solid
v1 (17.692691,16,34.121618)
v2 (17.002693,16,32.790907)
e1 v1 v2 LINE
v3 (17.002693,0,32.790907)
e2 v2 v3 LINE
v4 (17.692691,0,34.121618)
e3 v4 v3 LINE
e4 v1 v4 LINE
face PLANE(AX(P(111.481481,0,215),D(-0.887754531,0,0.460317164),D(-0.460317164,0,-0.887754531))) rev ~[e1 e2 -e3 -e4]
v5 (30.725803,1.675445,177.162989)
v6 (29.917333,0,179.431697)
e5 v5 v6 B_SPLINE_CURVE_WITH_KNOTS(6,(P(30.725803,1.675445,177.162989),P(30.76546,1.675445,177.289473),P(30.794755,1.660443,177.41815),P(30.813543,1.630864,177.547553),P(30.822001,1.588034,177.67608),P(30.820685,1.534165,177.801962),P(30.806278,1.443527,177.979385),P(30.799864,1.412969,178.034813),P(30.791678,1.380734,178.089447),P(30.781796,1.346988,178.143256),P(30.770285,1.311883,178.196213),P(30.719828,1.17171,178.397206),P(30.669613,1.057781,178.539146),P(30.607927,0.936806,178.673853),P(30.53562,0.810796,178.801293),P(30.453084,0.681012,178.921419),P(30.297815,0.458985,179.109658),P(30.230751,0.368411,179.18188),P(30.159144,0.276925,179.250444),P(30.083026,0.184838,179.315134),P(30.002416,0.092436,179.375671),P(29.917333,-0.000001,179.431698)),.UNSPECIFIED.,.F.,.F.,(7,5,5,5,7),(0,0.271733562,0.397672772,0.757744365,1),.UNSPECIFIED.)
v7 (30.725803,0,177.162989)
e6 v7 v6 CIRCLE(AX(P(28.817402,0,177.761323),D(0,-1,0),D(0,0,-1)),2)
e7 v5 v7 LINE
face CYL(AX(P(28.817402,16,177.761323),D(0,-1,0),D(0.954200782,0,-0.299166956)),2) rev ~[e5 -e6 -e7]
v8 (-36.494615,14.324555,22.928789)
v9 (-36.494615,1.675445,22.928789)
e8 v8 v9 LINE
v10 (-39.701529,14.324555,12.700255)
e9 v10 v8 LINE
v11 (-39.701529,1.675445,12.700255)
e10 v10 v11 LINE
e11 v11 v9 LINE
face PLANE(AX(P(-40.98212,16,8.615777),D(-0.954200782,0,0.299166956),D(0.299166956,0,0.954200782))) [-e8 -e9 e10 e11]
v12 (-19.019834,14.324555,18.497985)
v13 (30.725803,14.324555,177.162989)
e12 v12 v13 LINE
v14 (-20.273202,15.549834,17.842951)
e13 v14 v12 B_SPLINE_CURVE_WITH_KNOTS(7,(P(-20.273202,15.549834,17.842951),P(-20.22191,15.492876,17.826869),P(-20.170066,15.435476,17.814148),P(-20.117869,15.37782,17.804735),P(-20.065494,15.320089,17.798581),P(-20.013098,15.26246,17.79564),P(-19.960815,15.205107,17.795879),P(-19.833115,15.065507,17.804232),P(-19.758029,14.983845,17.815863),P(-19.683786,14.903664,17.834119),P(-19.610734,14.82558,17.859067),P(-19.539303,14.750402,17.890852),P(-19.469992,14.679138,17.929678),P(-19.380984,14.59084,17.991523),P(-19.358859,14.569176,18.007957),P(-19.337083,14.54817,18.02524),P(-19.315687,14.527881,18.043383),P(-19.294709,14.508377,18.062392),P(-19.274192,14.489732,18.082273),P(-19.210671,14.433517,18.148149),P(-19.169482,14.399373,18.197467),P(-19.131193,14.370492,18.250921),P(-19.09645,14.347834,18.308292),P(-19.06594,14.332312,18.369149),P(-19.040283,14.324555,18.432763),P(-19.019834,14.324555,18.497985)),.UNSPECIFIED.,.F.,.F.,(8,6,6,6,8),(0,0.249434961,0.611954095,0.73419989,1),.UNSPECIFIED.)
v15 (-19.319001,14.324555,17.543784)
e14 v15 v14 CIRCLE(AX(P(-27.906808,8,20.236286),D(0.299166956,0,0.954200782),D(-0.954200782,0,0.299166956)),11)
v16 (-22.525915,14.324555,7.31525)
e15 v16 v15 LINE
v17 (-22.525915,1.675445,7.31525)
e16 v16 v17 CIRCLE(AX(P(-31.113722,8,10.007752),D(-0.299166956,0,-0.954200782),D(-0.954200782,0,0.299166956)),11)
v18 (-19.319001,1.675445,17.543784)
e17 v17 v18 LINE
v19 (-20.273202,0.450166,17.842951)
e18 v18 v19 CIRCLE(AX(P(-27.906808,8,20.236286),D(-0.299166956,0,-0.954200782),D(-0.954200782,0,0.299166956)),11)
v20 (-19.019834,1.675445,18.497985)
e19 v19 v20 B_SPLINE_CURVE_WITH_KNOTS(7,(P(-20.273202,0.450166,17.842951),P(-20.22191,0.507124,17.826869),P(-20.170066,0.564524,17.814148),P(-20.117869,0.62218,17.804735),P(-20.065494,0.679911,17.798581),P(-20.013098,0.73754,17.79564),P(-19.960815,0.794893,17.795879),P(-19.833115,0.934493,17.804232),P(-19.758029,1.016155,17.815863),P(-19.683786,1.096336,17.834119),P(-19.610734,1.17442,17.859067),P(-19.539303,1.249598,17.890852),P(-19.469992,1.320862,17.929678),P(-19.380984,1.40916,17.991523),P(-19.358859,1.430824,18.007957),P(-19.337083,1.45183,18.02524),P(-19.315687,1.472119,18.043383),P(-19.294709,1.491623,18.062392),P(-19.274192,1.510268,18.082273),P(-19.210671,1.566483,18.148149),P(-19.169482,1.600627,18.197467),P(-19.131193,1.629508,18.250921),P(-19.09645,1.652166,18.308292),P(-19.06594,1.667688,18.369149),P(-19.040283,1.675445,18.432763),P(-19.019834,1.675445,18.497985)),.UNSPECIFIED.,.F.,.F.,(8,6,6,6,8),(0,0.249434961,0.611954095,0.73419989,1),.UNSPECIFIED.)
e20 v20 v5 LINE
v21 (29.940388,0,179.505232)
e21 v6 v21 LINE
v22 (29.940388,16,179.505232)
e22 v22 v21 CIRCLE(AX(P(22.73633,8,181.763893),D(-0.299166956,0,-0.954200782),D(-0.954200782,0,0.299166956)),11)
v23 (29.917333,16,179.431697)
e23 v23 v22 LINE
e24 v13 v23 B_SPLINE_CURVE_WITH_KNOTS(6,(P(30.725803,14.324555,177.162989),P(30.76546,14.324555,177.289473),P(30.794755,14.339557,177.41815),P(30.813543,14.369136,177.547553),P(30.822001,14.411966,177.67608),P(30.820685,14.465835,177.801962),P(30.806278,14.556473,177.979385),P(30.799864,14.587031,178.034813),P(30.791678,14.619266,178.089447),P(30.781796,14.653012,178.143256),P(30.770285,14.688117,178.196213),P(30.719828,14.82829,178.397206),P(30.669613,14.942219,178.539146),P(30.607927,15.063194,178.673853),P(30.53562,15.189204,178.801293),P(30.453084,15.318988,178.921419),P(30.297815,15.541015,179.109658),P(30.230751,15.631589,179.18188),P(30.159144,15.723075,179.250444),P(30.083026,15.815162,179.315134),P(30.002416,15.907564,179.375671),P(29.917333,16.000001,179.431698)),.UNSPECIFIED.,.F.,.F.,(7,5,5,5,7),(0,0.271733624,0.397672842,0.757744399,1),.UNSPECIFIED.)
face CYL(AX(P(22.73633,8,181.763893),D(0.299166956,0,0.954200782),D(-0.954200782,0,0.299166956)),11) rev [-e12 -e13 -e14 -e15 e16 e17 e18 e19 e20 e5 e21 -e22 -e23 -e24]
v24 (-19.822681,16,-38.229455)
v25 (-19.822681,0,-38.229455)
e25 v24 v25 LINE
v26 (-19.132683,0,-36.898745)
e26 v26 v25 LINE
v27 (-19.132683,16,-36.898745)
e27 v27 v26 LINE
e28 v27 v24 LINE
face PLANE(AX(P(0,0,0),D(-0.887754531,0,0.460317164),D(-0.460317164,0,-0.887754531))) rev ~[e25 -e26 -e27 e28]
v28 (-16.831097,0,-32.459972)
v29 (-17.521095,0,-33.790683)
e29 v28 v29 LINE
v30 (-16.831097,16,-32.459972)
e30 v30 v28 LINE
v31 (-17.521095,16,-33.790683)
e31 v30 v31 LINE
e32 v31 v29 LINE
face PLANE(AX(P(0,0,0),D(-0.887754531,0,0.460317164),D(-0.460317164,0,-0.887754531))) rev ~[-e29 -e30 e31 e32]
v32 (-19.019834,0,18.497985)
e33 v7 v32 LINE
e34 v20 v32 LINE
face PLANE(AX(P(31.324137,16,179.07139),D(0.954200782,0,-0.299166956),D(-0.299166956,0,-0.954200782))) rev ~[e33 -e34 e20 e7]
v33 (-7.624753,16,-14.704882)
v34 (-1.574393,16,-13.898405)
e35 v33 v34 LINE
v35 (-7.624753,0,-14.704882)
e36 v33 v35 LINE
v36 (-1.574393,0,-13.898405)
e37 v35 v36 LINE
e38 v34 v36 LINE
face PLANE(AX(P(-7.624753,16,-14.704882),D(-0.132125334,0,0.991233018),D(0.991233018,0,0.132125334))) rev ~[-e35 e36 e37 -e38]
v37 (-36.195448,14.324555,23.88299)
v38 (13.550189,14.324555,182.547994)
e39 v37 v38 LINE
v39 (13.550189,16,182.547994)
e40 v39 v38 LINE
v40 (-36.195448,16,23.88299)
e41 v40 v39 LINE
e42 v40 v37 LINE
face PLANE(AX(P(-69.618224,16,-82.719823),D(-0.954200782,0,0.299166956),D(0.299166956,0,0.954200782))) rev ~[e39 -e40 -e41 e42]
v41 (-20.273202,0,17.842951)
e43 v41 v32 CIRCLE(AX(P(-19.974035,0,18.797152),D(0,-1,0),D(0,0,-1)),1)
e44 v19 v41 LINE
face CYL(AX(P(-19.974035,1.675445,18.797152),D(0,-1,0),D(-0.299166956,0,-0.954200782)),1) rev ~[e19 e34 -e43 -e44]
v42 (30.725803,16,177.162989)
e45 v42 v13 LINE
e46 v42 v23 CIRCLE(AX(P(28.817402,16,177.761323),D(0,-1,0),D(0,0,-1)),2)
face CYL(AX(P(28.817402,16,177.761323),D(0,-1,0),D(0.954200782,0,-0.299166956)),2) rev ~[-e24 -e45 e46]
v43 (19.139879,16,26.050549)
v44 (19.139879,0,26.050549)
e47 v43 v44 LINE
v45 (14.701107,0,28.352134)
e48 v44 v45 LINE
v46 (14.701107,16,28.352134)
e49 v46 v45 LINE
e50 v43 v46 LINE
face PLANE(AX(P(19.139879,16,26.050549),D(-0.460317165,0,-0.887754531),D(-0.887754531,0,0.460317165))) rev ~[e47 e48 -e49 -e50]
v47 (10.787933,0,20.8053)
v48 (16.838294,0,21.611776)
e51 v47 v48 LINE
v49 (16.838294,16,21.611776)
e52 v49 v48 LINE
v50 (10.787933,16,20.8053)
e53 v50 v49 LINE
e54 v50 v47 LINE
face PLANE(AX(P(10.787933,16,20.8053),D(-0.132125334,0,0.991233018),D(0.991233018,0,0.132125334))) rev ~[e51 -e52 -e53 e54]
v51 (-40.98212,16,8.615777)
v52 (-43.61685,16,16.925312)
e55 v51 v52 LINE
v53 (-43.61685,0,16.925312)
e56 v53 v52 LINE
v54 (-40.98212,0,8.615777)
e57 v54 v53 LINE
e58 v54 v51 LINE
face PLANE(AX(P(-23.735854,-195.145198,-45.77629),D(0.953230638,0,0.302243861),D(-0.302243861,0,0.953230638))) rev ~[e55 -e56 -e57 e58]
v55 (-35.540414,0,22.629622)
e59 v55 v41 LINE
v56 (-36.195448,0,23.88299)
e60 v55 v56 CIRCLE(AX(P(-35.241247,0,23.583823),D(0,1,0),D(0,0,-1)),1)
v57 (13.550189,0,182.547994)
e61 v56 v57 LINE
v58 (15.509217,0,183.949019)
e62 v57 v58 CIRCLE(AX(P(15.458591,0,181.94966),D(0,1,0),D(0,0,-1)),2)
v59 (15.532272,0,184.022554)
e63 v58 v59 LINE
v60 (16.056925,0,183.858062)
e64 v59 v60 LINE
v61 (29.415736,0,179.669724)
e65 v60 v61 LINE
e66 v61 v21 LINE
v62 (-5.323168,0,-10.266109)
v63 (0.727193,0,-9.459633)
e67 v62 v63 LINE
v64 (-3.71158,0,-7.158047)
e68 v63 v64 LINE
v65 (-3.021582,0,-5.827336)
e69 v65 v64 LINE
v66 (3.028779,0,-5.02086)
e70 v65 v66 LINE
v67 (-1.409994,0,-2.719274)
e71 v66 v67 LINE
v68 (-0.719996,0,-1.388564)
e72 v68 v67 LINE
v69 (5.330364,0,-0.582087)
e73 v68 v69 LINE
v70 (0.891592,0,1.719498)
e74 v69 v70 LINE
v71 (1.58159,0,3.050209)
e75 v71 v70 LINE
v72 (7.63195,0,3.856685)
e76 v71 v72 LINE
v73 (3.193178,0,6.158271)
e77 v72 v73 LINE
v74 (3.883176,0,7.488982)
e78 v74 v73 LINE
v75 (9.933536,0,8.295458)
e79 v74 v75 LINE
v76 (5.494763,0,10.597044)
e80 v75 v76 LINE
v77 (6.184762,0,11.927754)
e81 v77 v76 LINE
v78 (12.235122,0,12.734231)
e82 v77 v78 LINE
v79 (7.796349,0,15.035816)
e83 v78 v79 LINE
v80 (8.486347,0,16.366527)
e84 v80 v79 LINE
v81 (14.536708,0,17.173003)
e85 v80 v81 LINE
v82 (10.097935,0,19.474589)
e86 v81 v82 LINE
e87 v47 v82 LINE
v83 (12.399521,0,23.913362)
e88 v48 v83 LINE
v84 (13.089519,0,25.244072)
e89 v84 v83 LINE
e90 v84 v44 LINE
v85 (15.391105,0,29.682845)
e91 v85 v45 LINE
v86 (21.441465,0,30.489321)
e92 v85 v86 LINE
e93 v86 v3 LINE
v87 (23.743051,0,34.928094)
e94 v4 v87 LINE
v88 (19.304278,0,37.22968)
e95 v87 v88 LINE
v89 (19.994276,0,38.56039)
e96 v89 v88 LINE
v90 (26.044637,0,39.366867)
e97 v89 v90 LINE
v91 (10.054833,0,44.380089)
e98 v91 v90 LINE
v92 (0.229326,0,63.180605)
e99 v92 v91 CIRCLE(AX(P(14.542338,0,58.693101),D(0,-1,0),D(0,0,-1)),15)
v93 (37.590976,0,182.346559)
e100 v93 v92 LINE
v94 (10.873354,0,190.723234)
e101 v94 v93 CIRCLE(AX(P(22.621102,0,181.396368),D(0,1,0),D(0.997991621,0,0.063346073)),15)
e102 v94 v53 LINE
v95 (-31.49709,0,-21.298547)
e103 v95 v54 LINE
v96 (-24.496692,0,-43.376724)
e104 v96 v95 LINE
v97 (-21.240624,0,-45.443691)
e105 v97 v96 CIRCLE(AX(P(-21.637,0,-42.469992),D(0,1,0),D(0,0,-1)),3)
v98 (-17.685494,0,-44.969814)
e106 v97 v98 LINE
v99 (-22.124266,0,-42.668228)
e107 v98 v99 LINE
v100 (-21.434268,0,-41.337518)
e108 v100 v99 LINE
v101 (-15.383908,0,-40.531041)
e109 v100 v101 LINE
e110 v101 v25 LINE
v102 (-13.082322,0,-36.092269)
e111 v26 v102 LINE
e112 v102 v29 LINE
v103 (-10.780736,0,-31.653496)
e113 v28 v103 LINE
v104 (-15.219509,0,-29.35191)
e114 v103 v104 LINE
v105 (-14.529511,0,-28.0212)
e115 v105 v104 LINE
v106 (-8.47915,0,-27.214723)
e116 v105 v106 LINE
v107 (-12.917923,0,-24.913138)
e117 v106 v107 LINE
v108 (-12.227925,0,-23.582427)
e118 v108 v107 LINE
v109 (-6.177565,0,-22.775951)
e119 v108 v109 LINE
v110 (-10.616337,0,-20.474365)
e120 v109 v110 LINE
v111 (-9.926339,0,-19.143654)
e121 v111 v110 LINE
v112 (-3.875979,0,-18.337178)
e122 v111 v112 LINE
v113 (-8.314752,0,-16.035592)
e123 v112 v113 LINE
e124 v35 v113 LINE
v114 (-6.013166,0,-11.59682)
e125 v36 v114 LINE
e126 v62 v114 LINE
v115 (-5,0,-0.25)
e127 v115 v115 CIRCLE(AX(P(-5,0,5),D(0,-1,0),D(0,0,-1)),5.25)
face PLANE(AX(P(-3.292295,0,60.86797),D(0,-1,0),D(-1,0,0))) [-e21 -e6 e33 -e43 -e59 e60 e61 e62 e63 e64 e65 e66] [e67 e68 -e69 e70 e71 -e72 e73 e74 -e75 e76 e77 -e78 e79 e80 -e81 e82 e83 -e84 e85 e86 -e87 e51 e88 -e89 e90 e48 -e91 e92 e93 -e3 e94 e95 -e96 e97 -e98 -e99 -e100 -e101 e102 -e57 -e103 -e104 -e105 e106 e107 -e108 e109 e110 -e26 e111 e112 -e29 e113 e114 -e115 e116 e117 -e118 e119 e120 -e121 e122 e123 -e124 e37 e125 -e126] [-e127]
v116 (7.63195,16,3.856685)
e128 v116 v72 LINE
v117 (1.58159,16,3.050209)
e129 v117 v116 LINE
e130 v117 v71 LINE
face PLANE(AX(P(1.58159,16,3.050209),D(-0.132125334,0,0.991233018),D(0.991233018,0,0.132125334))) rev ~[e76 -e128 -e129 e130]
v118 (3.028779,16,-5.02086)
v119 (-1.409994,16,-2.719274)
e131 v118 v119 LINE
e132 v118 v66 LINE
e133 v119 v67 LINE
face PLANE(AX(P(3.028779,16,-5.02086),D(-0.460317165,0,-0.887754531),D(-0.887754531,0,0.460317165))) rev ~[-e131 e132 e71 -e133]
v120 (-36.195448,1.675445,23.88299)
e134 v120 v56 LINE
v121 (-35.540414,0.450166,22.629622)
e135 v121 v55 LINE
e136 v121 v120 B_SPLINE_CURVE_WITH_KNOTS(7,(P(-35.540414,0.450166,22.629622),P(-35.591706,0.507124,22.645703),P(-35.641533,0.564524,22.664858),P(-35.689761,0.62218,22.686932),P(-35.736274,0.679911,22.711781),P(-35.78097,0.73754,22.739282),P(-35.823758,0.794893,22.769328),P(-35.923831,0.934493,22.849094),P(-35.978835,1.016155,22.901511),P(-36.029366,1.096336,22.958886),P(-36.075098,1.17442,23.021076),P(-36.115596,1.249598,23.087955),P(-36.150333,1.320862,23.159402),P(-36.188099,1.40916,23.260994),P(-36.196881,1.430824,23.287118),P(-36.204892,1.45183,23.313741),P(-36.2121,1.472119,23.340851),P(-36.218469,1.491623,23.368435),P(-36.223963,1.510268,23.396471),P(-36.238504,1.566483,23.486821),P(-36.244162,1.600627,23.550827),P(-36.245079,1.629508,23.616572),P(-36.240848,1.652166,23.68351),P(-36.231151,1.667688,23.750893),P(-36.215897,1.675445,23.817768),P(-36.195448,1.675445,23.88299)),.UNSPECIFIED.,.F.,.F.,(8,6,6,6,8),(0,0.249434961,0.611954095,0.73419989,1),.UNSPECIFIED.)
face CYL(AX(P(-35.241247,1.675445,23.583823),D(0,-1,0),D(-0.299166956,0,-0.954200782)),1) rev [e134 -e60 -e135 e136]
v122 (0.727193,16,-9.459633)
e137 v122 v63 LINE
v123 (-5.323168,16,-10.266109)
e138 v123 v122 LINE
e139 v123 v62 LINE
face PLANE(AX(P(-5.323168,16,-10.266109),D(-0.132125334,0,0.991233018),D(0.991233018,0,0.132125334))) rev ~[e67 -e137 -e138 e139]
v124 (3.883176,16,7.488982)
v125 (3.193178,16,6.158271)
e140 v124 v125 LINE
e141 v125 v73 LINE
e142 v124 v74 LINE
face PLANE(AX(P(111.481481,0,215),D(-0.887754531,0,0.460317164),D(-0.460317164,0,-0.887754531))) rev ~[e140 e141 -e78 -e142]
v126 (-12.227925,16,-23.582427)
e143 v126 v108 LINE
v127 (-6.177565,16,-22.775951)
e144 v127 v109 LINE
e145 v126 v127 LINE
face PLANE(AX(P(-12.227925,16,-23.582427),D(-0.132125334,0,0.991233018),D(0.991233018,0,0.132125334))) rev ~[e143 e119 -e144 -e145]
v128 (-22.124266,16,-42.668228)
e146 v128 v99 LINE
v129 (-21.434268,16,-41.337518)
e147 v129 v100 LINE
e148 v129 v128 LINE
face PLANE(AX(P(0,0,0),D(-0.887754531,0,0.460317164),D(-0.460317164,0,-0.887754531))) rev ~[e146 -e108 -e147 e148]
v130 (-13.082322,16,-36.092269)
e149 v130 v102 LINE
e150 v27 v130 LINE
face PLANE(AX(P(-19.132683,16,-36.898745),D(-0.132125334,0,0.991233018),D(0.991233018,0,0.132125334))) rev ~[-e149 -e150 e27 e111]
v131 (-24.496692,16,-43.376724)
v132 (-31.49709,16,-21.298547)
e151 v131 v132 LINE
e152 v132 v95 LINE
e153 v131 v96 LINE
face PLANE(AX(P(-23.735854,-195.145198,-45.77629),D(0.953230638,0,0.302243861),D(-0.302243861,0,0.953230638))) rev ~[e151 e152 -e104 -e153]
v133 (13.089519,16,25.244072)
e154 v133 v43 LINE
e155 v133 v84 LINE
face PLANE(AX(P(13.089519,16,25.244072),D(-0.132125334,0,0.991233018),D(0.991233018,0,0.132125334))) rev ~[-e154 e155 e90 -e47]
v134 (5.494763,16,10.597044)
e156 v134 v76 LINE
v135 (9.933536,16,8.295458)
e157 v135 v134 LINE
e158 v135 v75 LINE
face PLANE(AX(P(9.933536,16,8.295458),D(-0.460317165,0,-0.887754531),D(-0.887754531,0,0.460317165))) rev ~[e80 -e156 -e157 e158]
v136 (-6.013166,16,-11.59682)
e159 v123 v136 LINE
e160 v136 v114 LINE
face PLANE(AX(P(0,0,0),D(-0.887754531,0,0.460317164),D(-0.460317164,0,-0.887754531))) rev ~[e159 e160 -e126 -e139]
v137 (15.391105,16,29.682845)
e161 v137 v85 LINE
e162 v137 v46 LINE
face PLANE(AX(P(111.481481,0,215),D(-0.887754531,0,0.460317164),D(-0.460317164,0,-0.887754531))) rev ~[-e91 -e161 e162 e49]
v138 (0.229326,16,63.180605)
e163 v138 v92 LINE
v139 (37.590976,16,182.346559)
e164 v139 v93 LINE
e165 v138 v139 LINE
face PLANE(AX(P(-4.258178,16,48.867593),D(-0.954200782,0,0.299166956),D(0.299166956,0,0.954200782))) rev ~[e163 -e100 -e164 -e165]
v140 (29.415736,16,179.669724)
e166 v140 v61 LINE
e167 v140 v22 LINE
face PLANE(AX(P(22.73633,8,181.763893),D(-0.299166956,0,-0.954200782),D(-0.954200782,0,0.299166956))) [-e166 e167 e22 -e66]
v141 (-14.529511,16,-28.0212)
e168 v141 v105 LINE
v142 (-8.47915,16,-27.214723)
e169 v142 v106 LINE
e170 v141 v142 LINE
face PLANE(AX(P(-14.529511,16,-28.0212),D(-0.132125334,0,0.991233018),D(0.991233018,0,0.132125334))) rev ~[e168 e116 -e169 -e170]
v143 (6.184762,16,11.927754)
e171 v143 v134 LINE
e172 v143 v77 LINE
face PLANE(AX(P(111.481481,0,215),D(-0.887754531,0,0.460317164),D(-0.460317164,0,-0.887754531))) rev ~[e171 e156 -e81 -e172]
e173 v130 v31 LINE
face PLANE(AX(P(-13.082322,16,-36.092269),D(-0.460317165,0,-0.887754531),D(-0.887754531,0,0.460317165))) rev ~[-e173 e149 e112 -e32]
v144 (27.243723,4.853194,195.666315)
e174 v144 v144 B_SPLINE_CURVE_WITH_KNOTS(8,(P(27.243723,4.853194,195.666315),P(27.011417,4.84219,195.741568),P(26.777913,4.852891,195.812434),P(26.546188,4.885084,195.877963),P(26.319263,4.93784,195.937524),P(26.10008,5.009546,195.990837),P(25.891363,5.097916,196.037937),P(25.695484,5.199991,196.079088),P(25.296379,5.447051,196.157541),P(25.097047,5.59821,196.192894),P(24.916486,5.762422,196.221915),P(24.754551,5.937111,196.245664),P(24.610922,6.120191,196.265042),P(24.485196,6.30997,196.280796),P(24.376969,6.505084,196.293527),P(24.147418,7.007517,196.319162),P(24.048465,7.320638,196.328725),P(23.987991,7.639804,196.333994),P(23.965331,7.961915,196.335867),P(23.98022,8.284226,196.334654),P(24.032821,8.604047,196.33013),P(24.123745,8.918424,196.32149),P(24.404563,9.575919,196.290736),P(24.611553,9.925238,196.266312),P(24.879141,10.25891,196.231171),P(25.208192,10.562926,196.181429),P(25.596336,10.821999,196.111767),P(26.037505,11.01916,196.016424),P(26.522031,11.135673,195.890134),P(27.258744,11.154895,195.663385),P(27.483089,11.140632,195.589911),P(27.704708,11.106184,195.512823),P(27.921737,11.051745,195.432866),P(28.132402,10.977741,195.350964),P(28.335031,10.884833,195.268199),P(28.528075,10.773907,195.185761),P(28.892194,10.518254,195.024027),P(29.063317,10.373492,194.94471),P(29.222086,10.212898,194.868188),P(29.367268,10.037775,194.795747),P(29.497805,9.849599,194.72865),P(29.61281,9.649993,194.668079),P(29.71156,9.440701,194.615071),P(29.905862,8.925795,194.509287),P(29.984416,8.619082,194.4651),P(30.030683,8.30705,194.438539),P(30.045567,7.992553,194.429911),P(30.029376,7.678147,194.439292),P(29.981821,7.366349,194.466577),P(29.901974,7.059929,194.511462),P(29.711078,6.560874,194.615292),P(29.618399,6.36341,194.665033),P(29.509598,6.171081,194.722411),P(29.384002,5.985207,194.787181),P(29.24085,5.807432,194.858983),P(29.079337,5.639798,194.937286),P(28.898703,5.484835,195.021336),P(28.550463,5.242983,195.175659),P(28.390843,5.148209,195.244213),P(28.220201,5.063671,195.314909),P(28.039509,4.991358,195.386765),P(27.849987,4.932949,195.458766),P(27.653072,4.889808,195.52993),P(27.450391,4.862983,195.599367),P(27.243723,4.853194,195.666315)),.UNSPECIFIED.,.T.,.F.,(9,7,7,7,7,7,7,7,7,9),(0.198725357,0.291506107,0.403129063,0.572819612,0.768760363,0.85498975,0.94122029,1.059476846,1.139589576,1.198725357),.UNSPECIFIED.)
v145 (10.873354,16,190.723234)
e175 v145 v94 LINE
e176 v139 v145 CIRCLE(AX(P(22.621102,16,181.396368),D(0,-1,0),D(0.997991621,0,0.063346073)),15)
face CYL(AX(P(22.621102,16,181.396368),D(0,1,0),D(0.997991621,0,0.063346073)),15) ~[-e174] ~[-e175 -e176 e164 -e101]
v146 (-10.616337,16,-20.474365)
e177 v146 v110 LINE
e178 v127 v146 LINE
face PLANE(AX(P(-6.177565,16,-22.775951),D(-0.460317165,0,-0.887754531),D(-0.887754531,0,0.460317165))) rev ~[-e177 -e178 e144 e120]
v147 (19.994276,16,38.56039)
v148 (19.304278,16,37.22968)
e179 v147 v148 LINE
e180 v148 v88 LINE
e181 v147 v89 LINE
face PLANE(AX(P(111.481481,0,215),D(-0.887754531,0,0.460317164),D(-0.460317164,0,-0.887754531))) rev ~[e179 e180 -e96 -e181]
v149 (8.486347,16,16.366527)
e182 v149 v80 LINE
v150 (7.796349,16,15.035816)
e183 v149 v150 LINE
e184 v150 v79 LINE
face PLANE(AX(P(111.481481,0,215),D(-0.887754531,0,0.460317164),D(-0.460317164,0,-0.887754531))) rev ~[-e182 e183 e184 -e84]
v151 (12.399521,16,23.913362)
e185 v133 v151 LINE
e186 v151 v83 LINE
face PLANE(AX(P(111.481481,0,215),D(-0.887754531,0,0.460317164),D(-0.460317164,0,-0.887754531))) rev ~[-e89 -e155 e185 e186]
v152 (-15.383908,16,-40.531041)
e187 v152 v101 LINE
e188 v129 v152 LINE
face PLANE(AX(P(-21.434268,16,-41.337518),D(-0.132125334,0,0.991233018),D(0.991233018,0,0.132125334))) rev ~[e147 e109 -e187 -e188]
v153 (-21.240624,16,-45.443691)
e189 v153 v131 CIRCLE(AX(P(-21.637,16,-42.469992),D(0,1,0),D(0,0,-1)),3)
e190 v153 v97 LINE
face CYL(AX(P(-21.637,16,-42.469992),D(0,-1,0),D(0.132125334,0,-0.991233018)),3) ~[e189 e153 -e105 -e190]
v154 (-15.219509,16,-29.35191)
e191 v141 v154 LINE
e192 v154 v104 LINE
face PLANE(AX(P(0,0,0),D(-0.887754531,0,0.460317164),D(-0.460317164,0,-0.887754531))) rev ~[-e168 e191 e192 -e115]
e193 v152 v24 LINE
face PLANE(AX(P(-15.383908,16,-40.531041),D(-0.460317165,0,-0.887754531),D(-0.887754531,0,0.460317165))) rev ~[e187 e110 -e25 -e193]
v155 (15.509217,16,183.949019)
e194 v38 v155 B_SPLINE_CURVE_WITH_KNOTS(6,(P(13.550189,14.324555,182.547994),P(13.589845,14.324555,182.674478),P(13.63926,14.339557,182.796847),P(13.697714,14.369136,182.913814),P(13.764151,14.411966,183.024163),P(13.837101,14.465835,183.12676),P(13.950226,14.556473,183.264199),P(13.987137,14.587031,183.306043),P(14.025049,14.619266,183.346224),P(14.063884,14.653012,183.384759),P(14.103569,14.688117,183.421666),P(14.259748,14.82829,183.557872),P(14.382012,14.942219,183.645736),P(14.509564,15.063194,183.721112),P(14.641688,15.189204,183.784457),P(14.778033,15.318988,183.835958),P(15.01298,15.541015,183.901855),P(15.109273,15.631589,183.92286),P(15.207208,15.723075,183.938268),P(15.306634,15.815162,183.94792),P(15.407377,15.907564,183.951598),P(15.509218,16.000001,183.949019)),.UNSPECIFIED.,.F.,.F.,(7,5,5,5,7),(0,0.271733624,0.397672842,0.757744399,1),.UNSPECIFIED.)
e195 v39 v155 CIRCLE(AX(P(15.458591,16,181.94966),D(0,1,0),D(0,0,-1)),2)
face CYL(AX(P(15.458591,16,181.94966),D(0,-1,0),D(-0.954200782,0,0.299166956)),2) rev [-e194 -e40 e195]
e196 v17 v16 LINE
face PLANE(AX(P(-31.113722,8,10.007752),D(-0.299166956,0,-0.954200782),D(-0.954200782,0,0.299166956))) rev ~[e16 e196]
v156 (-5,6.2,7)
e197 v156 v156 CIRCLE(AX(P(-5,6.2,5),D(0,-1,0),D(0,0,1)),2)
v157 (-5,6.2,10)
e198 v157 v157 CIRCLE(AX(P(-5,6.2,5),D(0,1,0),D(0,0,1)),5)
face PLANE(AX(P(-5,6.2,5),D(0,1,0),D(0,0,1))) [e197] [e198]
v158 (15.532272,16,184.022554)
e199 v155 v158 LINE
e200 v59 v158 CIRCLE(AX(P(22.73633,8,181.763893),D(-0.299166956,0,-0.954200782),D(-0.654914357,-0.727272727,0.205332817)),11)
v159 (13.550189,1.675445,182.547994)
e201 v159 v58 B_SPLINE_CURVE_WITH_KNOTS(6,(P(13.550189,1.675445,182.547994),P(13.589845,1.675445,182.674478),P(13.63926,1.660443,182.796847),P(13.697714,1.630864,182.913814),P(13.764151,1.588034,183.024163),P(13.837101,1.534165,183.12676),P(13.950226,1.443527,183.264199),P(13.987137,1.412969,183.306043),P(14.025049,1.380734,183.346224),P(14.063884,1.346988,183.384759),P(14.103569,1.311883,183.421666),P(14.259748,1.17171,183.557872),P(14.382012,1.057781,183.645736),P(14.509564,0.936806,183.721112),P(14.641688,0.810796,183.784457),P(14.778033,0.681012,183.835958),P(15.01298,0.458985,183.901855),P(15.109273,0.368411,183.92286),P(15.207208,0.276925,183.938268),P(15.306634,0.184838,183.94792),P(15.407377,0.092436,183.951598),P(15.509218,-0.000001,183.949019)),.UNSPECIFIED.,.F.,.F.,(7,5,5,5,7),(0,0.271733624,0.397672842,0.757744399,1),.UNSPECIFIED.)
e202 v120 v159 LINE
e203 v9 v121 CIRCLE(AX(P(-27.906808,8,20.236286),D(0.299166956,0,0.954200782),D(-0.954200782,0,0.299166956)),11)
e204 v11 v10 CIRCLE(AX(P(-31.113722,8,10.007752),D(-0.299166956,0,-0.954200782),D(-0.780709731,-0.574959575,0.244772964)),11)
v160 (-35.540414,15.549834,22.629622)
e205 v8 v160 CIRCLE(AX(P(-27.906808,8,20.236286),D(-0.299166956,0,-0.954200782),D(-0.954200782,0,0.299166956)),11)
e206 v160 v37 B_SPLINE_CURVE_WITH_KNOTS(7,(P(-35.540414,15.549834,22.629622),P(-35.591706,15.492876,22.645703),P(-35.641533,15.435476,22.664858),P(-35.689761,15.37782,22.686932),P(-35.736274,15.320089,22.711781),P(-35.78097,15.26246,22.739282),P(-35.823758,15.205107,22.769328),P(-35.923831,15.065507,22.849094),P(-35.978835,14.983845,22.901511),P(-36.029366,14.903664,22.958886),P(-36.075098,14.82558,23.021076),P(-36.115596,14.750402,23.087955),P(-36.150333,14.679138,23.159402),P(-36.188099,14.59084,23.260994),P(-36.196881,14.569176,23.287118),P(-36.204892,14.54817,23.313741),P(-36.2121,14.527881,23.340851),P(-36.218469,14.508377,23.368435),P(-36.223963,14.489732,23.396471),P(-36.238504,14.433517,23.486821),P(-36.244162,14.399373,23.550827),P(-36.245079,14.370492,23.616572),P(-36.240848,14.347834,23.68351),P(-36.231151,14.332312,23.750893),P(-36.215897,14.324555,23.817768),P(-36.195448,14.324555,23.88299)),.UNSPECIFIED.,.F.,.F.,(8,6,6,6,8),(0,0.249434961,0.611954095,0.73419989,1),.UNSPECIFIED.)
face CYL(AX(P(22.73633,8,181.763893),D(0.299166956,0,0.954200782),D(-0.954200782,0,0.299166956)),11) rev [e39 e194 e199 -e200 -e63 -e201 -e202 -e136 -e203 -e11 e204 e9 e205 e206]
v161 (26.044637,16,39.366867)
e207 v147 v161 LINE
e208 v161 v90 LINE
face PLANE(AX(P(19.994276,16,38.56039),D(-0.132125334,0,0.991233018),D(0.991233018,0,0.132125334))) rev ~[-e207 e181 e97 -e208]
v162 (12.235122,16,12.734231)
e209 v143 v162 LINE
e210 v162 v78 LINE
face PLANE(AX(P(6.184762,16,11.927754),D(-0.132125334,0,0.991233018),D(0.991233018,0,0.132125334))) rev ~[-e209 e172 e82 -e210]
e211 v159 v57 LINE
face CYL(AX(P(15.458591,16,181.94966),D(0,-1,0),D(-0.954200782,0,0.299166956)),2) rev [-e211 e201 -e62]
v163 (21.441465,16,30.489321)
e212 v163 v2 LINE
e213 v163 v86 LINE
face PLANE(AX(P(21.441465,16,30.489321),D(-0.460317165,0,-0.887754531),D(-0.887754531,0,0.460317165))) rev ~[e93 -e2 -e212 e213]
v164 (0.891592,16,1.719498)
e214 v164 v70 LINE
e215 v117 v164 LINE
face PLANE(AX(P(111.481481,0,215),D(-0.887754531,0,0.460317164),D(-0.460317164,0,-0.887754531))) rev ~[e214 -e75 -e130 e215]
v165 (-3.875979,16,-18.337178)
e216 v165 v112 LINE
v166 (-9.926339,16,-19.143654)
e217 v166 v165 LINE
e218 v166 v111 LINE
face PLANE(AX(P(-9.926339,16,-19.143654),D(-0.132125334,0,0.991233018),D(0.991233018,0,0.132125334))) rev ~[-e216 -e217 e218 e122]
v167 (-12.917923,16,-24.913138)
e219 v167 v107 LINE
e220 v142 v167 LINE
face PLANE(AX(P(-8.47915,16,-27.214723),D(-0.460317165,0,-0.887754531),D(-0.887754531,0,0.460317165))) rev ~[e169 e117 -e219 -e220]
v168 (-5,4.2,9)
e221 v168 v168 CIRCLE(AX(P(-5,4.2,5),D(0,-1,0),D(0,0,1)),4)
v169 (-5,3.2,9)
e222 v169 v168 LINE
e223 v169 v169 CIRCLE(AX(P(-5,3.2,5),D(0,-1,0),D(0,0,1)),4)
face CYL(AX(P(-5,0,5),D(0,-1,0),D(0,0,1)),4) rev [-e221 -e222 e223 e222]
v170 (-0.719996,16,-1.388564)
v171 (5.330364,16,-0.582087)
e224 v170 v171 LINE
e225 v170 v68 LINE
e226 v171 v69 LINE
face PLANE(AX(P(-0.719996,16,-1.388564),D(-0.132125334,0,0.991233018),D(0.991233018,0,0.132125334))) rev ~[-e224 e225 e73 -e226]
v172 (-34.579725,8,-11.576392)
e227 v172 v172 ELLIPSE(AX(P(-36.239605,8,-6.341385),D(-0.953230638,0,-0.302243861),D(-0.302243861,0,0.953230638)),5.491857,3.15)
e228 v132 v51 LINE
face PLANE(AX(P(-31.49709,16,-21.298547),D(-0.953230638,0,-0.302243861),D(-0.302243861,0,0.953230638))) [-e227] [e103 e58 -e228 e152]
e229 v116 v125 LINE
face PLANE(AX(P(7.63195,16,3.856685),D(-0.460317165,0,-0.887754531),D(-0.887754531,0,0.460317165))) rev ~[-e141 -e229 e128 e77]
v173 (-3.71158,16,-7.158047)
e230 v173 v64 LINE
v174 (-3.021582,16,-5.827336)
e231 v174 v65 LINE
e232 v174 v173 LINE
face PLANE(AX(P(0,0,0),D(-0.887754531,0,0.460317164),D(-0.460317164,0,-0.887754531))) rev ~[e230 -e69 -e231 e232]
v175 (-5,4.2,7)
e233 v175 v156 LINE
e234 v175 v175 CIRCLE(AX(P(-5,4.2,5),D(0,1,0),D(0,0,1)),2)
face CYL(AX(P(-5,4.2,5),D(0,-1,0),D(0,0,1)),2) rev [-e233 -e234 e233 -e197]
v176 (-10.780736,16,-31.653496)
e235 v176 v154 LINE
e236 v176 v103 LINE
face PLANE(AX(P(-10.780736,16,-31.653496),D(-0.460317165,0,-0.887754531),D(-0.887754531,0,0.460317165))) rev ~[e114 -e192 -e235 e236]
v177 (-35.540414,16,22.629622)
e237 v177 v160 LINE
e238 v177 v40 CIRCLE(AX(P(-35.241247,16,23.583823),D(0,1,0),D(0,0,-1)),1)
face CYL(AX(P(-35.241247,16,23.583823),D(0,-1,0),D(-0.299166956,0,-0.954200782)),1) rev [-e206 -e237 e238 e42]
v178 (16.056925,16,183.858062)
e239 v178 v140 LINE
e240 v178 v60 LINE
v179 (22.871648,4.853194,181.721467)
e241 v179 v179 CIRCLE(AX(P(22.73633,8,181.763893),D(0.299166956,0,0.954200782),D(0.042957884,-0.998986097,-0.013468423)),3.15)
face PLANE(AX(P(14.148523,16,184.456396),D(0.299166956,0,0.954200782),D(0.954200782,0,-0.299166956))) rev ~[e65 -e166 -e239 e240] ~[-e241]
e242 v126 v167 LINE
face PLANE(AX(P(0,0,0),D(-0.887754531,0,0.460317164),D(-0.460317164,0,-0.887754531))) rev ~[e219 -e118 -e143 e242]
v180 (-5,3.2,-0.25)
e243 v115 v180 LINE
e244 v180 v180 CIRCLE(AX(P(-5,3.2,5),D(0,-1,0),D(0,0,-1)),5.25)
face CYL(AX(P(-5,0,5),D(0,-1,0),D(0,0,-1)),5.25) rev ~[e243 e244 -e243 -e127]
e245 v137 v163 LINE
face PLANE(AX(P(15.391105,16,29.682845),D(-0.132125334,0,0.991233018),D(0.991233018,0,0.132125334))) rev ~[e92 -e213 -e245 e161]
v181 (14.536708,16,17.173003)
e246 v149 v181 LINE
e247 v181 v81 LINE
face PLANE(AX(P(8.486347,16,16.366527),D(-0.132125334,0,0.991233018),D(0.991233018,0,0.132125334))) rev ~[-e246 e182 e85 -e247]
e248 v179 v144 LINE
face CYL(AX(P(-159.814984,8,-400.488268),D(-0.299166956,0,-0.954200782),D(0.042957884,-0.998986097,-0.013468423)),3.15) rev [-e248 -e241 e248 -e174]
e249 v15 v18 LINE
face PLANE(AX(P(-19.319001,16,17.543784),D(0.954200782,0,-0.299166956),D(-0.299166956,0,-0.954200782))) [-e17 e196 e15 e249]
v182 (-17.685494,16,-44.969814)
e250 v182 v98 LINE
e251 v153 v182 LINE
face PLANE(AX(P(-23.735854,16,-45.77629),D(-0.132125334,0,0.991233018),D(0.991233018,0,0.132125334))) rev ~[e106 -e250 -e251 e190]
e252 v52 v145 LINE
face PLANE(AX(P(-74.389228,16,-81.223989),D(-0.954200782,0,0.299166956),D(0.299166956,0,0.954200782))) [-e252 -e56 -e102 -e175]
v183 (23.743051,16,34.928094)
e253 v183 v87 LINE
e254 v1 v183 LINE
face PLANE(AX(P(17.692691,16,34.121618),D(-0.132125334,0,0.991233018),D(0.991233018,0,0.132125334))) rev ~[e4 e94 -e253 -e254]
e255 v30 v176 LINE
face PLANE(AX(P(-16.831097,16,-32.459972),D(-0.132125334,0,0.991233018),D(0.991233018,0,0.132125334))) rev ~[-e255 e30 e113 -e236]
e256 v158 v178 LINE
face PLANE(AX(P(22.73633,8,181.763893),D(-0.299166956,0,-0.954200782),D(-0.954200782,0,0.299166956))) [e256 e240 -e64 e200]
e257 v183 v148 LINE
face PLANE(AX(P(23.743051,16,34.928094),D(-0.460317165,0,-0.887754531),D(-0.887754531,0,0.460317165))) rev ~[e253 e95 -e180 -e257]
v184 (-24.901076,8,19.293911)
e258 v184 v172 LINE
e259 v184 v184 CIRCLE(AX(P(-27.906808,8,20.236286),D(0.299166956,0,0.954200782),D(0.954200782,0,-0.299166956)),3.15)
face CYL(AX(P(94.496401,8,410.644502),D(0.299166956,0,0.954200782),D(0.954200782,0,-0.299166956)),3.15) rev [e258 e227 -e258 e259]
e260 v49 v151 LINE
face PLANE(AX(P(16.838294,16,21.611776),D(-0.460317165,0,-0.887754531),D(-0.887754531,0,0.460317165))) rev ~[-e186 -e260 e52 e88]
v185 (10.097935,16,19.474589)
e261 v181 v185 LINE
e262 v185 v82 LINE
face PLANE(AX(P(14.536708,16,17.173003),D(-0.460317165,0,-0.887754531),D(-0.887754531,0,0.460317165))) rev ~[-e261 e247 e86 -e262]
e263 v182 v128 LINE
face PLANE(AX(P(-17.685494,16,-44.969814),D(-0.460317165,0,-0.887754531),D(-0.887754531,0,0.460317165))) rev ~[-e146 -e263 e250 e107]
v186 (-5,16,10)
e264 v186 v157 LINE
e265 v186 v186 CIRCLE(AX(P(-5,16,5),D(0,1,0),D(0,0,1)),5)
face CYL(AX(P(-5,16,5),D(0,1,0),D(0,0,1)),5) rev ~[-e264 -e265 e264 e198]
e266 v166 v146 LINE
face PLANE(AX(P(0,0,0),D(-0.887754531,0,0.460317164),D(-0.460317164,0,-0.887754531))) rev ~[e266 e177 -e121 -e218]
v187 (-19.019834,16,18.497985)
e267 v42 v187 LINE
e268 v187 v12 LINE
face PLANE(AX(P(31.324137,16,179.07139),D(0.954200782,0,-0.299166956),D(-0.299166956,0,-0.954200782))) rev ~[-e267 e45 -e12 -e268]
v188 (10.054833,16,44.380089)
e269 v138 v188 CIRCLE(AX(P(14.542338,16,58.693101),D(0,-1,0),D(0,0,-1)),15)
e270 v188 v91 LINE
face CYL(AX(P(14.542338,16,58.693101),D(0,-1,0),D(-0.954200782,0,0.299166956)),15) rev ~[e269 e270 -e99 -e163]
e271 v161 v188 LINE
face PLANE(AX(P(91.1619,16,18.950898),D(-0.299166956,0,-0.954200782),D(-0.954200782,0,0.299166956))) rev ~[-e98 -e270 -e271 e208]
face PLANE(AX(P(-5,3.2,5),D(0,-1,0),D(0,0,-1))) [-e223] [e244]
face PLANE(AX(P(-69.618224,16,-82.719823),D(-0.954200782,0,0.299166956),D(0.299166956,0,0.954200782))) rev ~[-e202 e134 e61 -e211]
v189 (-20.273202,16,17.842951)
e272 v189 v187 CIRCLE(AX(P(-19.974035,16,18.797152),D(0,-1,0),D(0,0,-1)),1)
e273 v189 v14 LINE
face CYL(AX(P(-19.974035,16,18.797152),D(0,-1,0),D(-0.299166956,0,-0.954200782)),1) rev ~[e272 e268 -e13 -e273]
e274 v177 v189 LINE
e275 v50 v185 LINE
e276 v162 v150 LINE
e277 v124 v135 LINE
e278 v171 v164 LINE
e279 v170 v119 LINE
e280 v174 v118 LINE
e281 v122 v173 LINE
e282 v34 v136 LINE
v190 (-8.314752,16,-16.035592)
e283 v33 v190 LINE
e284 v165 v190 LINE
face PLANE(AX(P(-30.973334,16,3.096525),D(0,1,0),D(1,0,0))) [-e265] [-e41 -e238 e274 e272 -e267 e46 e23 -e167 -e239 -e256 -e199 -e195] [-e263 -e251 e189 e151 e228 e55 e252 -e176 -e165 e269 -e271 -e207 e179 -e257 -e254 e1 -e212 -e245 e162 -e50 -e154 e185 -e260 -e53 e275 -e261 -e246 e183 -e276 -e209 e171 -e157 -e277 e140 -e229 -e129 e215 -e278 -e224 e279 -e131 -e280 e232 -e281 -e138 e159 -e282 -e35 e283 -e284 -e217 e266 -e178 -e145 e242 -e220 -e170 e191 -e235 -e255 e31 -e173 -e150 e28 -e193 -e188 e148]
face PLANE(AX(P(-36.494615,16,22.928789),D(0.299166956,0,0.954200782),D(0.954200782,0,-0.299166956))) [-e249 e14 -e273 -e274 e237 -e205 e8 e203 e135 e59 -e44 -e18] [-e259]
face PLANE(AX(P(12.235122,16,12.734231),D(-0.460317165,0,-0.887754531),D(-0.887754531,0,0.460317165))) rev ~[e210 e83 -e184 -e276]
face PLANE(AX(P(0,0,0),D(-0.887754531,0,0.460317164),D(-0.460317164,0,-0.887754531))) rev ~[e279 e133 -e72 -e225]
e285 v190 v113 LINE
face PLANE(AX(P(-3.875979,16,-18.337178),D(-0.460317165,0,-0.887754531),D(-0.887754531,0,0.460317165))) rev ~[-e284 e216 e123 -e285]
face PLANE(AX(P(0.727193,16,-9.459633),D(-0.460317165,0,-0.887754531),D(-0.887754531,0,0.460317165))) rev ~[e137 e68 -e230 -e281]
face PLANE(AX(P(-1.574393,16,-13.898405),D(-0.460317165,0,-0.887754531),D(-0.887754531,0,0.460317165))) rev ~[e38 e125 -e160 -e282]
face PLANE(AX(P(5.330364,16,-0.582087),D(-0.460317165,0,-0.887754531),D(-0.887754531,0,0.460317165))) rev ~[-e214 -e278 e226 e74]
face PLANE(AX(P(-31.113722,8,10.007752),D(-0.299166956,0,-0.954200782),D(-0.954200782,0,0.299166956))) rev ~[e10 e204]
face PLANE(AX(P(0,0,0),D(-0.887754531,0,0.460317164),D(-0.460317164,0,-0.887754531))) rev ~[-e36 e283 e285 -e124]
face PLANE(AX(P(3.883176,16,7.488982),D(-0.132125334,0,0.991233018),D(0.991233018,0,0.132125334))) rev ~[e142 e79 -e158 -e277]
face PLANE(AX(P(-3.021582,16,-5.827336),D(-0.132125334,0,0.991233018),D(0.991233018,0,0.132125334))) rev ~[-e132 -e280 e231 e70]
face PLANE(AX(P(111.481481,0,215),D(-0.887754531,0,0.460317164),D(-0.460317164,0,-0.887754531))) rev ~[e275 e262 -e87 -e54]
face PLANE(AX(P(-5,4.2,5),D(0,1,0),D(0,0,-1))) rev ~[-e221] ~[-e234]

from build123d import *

# Parameters (mm, degrees)
SKETCH1_R                = 4
BOSS_EXTRUDE1_DEPTH      = 16
CUT_EXTRUDE2_DEPTH       = 243.712011885
FILLET2_R                = 50
FILLET3_R                = 5
BOSS_EXTRUDE2_DEPTH      = 16
LPATTERN1_COUNT          = 58
LPATTERN1_PITCH          = 5
SKETCH6_R                = 5.25
CUT_EXTRUDE4_DEPTH       = 3.2
BOSS_EXTRUDE3_START      = -11.8
SKETCH8_R                = 4
SKETCH8_R_2              = 2
BOSS_EXTRUDE3_DEPTH      = 11.8
SKETCH9_R                = 5
CUT_EXTRUDE7_DEPTH       = 9.8
BOSS_EXTRUDE4_DEPTH      = 16
CUT_EXTRUDE8_DEPTH       = 330.19878797
CUT_EXTRUDE8_DEPTH_BACK  = 330.19878797
SKETCH10_R               = 3.15
CUT_EXTRUDE9_DEPTH       = 230.693221824
CUT_EXTRUDE10_DEPTH      = 230.693221824
CUT_EXTRUDE13_DEPTH      = 228.62792195
FILLET6_R                = 15
FILLET7_R                = 2
SKETCH18_R               = 11
CUT_EXTRUDE14_DEPTH      = 180
CUT_EXTRUDE15_DEPTH      = 211.145198264
CUT_EXTRUDE15_DEPTH_BACK = 211.145198264
BOSS_EXTRUDE5_REACH      = 203.817
FILLET8_R                = 1
FILLET9_R                = 3
CUT_EXTRUDE16_DEPTH      = 239.866298177
CUT_EXTRUDE16_DEPTH_BACK = 239.866298177
SKETCH21_R               = 3.15


with BuildPart() as part:
    # Sketch1 → Boss-Extrude1 (new body)
    with BuildSketch(Plane(origin=(0, 0, 0), x_dir=(1, 0, 0), z_dir=(0, 1, 0))):
        Polygon((0, 0), (-70, 135), (-70, -15), (-70, -215), (111.481481481, -215), align=None)
        with Locations(Location((-5, -5, 0), (0, 0, 270))):
            Circle(SKETCH1_R, mode=Mode.SUBTRACT)
    extrude(amount=BOSS_EXTRUDE1_DEPTH)

    # Sketch3 → Cut-Extrude2 (cut, through all)
    with BuildSketch(Plane(origin=(0, 16, 0), x_dir=(1, 0, 0), z_dir=(0, 1, 0))):
        Polygon((-52.442610269, 88.104828667), (-69.618224346, 82.719823463), (14.148523277, -184.456395525), (31.324137355, -179.07139032), align=None)
    extrude(amount=-CUT_EXTRUDE2_DEPTH, mode=Mode.SUBTRACT)

    # Fillet2
    fillet2_edges = [part.edges().sort_by_distance(p)[0] for p in [
        (111.481481481, 8, 215),
        (-70, 8, 215),
    ]]
    fillet(fillet2_edges, radius=FILLET2_R)

    # Fillet3
    fillet3_edges = [part.edges().sort_by_distance(p)[0] for p in [
        (-70, 8, -135),
    ]]
    fillet(fillet3_edges, radius=FILLET3_R)

    # Sketch4 → Boss-Extrude2 (add)
    with BuildSketch(Plane(origin=(0, 16, 0), x_dir=(1, 0, 0), z_dir=(0, 1, 0))):
        Polygon((-60.561227343, 116.796652732), (-54.510866943, 115.99017648), (-58.9496396, 113.688590657), align=None)
    boss_extrude2 = extrude(amount=-BOSS_EXTRUDE2_DEPTH)

    # LPattern1: Boss-Extrude2 ×58
    with Locations(*[Vector(0.46031716445500054, 0, 0.8877545314489294) * (i * LPATTERN1_PITCH) for i in range(1, LPATTERN1_COUNT)]):
        add(boss_extrude2)

    # Sketch6 → Cut-Extrude4 (cut)
    with BuildSketch(Plane.XZ):
        with Locations(Location((-5, 5, 0), (0, 0, 270))):
            Circle(SKETCH6_R)
    extrude(amount=-CUT_EXTRUDE4_DEPTH, mode=Mode.SUBTRACT)

    # Sketch8 → Boss-Extrude3 (add)
    with BuildSketch(Plane(origin=(0, 16, 0), x_dir=(1, 0, 0), z_dir=(0, 1, 0)).offset(BOSS_EXTRUDE3_START)):
        with Locations(Location((-5, -5, 0), (0, 0, 90))):
            Circle(SKETCH8_R)
        with Locations(Location((-5, -5, 0), (0, 0, 270))):
            Circle(SKETCH8_R_2, mode=Mode.SUBTRACT)
    extrude(amount=BOSS_EXTRUDE3_DEPTH)

    # Sketch9 → Cut-Extrude7 (cut)
    with BuildSketch(Plane(origin=(0, 16, 0), x_dir=(1, 0, 0), z_dir=(0, 1, 0))):
        with Locations(Location((-5, -5, 0), (0, 0, 270))):
            Circle(SKETCH9_R)
    extrude(amount=-CUT_EXTRUDE7_DEPTH, mode=Mode.SUBTRACT)

    # Sketch12 → Boss-Extrude4 (add)
    with BuildSketch(Plane(origin=(0, 16, 0), x_dir=(1, 0, 0), z_dir=(0, 1, 0))):
        with BuildLine():
            Line((-70, 114.49506691), (-70, 54.49506691))
            ThreePointArc((-70, 54.49506691), (-73.030615433, 84.49506691), (-70, 114.49506691))
        make_face()
    extrude(amount=-BOSS_EXTRUDE4_DEPTH)

    # Sketch10 → Cut-Extrude8 (cut, two sides: drawn at the far end of the back side and taken through both)
    with BuildSketch(Plane(origin=(-29.844534263, 0, -95.189917814), x_dir=(0.954200782099043, 0, -0.29916695579822083), z_dir=(0.29916695579822083, 0, 0.954200782099043)).offset(-CUT_EXTRUDE8_DEPTH_BACK)):
        with Locations(Location((-32.68272635, 8, 0), (0, 0, 272.580314011))):
            Circle(SKETCH10_R)
    extrude(amount=CUT_EXTRUDE8_DEPTH + CUT_EXTRUDE8_DEPTH_BACK, mode=Mode.SUBTRACT)

    # Sketch13 → Cut-Extrude9 (cut, through all)
    with BuildSketch(Plane(origin=(0, 16, 0), x_dir=(1, 0, 0), z_dir=(0, 1, 0))):
        Polygon((-74.389228257, 81.223988684), (30.319206273, -252.746285051), (-65.100871937, -282.662980631), (-169.809306467, 51.307293104), align=None)
    extrude(amount=-CUT_EXTRUDE9_DEPTH, mode=Mode.SUBTRACT)

    # Sketch15 → Cut-Extrude10 (cut, through all)
    with BuildSketch(Plane(origin=(0, 16, 0), x_dir=(1, 0, 0), z_dir=(0, 1, 0))):
        Polygon((91.161899767, -18.950897803), (-4.258178443, -48.867593383), (70.533560507, -287.417788908), (165.953638717, -257.501093328), align=None)
    extrude(amount=-CUT_EXTRUDE10_DEPTH, mode=Mode.SUBTRACT)

    # Sketch16 → Cut-Extrude13 (cut, through all)
    with BuildSketch(Plane(origin=(0, 16, 0), x_dir=(1, 0, 0), z_dir=(0, 1, 0))):
        with BuildLine():
            Line((10.873354146, -190.723234214), (40.790049725, -286.143312424))
            Line((40.790049725, -286.143312424), (67.507671624, -277.766637662))
            Line((67.507671624, -277.766637662), (37.590976044, -182.346559452))
            ThreePointArc((37.590976044, -182.346559452), (27.10860607, -195.709380094), (10.873354146, -190.723234214))
        make_face()
    extrude(amount=-CUT_EXTRUDE13_DEPTH, mode=Mode.SUBTRACT)

    # Fillet6
    fillet6_edges = [part.edges().sort_by_distance(p)[0] for p in [
        (-4.258178443, 8, 48.867593383),
    ]]
    fillet(fillet6_edges, radius=FILLET6_R)

    # Fillet7
    fillet7_edges = [part.edges().sort_by_distance(p)[0] for p in [
        (-52.442610269, 8, -88.104828667),
        (31.324137355, 8, 179.07139032),
        (14.148523277, 8, 184.456395525),
        (-69.618224346, 8, -82.719823463),
    ]]
    fillet(fillet7_edges, radius=FILLET7_R)

    # Sketch18 → Cut-Extrude14 (cut)
    with BuildSketch(Plane(origin=(53.92221336, 0, 171.986301173), x_dir=(-0.9542007820990451, 0, 0.2991669557982141), z_dir=(-0.2991669557982141, 0, -0.9542007820990451))):
        with Locations((32.68272635, 8)):
            Circle(SKETCH18_R)
    extrude(amount=CUT_EXTRUDE14_DEPTH, mode=Mode.SUBTRACT)

    # Sketch19 → Cut-Extrude15 (cut, two sides: drawn at the far end of the back side and taken through both)
    with BuildSketch(Plane(origin=(0, 16, 0), x_dir=(1, 0, 0), z_dir=(0, 1, 0)).offset(-CUT_EXTRUDE15_DEPTH_BACK)):
        Polygon((-23.735854186, 45.776290217), (-43.616849953, -16.925311817), (-182.188010341, 92.887453174), (-34.776254673, 144.843881828), (-3.278660629, 45.963592539), align=None)
    extrude(amount=CUT_EXTRUDE15_DEPTH + CUT_EXTRUDE15_DEPTH_BACK, mode=Mode.SUBTRACT)

    # Boss-Extrude5: up to this face of the body (flat: up to its plane)
    boss_extrude5_end = Plane(part.part.faces().sort_by_distance((-3.292295487, 0, 60.867970257))[0])
    # Sketch20 → Boss-Extrude5 (add, up to the picked face)
    with BuildSketch(Plane(origin=(0, 16, 0), x_dir=(1, 0, 0), z_dir=(0, 1, 0)), mode=Mode.PRIVATE) as boss_extrude5_sk1:
        Polygon((-31.497089872, 21.298546901), (-40.982119501, -8.615777313), (-36.494615164, -22.928789044), (-19.319001086, -17.54378384), align=None)
    boss_extrude5_tool1 = split(extrude(boss_extrude5_sk1.sketch, amount=-BOSS_EXTRUDE5_REACH, mode=Mode.PRIVATE), bisect_by=boss_extrude5_end, keep=Keep.BOTH, mode=Mode.PRIVATE)
    add(boss_extrude5_tool1.solids().sort_by(Axis((-31.047961, 16, 5.590001), (0, -1, 0)))[0])

    # Fillet8
    fillet8_edges = [part.edges().sort_by_distance(p)[0] for p in [
        (-36.494615164, 15.16227766, 22.928789044),
        (-36.494615164, 0.83772234, 22.928789044),
        (-19.319001086, 0.83772234, 17.54378384),
        (-19.319001086, 15.16227766, 17.54378384),
    ]]
    fillet(fillet8_edges, radius=FILLET8_R)

    # Fillet9
    fillet9_edges = [part.edges().sort_by_distance(p)[0] for p in [
        (-23.735854186, 8, -45.776290217),
    ]]
    fillet(fillet9_edges, radius=FILLET9_R)

    # Sketch21 → Cut-Extrude16 (cut, two sides: drawn at the far end of the back side and taken through both)
    with BuildSketch(Plane(origin=(53.92221336, 0, 171.986301173), x_dir=(-0.9542007820990451, 0, 0.2991669557982141), z_dir=(-0.2991669557982141, 0, -0.9542007820990451)).offset(-CUT_EXTRUDE16_DEPTH_BACK)):
        with Locations(Location((32.68272635, 8, 0), (0, 0, 180))):
            Circle(SKETCH21_R)
    extrude(amount=CUT_EXTRUDE16_DEPTH + CUT_EXTRUDE16_DEPTH_BACK, mode=Mode.SUBTRACT)


solid = part.part
